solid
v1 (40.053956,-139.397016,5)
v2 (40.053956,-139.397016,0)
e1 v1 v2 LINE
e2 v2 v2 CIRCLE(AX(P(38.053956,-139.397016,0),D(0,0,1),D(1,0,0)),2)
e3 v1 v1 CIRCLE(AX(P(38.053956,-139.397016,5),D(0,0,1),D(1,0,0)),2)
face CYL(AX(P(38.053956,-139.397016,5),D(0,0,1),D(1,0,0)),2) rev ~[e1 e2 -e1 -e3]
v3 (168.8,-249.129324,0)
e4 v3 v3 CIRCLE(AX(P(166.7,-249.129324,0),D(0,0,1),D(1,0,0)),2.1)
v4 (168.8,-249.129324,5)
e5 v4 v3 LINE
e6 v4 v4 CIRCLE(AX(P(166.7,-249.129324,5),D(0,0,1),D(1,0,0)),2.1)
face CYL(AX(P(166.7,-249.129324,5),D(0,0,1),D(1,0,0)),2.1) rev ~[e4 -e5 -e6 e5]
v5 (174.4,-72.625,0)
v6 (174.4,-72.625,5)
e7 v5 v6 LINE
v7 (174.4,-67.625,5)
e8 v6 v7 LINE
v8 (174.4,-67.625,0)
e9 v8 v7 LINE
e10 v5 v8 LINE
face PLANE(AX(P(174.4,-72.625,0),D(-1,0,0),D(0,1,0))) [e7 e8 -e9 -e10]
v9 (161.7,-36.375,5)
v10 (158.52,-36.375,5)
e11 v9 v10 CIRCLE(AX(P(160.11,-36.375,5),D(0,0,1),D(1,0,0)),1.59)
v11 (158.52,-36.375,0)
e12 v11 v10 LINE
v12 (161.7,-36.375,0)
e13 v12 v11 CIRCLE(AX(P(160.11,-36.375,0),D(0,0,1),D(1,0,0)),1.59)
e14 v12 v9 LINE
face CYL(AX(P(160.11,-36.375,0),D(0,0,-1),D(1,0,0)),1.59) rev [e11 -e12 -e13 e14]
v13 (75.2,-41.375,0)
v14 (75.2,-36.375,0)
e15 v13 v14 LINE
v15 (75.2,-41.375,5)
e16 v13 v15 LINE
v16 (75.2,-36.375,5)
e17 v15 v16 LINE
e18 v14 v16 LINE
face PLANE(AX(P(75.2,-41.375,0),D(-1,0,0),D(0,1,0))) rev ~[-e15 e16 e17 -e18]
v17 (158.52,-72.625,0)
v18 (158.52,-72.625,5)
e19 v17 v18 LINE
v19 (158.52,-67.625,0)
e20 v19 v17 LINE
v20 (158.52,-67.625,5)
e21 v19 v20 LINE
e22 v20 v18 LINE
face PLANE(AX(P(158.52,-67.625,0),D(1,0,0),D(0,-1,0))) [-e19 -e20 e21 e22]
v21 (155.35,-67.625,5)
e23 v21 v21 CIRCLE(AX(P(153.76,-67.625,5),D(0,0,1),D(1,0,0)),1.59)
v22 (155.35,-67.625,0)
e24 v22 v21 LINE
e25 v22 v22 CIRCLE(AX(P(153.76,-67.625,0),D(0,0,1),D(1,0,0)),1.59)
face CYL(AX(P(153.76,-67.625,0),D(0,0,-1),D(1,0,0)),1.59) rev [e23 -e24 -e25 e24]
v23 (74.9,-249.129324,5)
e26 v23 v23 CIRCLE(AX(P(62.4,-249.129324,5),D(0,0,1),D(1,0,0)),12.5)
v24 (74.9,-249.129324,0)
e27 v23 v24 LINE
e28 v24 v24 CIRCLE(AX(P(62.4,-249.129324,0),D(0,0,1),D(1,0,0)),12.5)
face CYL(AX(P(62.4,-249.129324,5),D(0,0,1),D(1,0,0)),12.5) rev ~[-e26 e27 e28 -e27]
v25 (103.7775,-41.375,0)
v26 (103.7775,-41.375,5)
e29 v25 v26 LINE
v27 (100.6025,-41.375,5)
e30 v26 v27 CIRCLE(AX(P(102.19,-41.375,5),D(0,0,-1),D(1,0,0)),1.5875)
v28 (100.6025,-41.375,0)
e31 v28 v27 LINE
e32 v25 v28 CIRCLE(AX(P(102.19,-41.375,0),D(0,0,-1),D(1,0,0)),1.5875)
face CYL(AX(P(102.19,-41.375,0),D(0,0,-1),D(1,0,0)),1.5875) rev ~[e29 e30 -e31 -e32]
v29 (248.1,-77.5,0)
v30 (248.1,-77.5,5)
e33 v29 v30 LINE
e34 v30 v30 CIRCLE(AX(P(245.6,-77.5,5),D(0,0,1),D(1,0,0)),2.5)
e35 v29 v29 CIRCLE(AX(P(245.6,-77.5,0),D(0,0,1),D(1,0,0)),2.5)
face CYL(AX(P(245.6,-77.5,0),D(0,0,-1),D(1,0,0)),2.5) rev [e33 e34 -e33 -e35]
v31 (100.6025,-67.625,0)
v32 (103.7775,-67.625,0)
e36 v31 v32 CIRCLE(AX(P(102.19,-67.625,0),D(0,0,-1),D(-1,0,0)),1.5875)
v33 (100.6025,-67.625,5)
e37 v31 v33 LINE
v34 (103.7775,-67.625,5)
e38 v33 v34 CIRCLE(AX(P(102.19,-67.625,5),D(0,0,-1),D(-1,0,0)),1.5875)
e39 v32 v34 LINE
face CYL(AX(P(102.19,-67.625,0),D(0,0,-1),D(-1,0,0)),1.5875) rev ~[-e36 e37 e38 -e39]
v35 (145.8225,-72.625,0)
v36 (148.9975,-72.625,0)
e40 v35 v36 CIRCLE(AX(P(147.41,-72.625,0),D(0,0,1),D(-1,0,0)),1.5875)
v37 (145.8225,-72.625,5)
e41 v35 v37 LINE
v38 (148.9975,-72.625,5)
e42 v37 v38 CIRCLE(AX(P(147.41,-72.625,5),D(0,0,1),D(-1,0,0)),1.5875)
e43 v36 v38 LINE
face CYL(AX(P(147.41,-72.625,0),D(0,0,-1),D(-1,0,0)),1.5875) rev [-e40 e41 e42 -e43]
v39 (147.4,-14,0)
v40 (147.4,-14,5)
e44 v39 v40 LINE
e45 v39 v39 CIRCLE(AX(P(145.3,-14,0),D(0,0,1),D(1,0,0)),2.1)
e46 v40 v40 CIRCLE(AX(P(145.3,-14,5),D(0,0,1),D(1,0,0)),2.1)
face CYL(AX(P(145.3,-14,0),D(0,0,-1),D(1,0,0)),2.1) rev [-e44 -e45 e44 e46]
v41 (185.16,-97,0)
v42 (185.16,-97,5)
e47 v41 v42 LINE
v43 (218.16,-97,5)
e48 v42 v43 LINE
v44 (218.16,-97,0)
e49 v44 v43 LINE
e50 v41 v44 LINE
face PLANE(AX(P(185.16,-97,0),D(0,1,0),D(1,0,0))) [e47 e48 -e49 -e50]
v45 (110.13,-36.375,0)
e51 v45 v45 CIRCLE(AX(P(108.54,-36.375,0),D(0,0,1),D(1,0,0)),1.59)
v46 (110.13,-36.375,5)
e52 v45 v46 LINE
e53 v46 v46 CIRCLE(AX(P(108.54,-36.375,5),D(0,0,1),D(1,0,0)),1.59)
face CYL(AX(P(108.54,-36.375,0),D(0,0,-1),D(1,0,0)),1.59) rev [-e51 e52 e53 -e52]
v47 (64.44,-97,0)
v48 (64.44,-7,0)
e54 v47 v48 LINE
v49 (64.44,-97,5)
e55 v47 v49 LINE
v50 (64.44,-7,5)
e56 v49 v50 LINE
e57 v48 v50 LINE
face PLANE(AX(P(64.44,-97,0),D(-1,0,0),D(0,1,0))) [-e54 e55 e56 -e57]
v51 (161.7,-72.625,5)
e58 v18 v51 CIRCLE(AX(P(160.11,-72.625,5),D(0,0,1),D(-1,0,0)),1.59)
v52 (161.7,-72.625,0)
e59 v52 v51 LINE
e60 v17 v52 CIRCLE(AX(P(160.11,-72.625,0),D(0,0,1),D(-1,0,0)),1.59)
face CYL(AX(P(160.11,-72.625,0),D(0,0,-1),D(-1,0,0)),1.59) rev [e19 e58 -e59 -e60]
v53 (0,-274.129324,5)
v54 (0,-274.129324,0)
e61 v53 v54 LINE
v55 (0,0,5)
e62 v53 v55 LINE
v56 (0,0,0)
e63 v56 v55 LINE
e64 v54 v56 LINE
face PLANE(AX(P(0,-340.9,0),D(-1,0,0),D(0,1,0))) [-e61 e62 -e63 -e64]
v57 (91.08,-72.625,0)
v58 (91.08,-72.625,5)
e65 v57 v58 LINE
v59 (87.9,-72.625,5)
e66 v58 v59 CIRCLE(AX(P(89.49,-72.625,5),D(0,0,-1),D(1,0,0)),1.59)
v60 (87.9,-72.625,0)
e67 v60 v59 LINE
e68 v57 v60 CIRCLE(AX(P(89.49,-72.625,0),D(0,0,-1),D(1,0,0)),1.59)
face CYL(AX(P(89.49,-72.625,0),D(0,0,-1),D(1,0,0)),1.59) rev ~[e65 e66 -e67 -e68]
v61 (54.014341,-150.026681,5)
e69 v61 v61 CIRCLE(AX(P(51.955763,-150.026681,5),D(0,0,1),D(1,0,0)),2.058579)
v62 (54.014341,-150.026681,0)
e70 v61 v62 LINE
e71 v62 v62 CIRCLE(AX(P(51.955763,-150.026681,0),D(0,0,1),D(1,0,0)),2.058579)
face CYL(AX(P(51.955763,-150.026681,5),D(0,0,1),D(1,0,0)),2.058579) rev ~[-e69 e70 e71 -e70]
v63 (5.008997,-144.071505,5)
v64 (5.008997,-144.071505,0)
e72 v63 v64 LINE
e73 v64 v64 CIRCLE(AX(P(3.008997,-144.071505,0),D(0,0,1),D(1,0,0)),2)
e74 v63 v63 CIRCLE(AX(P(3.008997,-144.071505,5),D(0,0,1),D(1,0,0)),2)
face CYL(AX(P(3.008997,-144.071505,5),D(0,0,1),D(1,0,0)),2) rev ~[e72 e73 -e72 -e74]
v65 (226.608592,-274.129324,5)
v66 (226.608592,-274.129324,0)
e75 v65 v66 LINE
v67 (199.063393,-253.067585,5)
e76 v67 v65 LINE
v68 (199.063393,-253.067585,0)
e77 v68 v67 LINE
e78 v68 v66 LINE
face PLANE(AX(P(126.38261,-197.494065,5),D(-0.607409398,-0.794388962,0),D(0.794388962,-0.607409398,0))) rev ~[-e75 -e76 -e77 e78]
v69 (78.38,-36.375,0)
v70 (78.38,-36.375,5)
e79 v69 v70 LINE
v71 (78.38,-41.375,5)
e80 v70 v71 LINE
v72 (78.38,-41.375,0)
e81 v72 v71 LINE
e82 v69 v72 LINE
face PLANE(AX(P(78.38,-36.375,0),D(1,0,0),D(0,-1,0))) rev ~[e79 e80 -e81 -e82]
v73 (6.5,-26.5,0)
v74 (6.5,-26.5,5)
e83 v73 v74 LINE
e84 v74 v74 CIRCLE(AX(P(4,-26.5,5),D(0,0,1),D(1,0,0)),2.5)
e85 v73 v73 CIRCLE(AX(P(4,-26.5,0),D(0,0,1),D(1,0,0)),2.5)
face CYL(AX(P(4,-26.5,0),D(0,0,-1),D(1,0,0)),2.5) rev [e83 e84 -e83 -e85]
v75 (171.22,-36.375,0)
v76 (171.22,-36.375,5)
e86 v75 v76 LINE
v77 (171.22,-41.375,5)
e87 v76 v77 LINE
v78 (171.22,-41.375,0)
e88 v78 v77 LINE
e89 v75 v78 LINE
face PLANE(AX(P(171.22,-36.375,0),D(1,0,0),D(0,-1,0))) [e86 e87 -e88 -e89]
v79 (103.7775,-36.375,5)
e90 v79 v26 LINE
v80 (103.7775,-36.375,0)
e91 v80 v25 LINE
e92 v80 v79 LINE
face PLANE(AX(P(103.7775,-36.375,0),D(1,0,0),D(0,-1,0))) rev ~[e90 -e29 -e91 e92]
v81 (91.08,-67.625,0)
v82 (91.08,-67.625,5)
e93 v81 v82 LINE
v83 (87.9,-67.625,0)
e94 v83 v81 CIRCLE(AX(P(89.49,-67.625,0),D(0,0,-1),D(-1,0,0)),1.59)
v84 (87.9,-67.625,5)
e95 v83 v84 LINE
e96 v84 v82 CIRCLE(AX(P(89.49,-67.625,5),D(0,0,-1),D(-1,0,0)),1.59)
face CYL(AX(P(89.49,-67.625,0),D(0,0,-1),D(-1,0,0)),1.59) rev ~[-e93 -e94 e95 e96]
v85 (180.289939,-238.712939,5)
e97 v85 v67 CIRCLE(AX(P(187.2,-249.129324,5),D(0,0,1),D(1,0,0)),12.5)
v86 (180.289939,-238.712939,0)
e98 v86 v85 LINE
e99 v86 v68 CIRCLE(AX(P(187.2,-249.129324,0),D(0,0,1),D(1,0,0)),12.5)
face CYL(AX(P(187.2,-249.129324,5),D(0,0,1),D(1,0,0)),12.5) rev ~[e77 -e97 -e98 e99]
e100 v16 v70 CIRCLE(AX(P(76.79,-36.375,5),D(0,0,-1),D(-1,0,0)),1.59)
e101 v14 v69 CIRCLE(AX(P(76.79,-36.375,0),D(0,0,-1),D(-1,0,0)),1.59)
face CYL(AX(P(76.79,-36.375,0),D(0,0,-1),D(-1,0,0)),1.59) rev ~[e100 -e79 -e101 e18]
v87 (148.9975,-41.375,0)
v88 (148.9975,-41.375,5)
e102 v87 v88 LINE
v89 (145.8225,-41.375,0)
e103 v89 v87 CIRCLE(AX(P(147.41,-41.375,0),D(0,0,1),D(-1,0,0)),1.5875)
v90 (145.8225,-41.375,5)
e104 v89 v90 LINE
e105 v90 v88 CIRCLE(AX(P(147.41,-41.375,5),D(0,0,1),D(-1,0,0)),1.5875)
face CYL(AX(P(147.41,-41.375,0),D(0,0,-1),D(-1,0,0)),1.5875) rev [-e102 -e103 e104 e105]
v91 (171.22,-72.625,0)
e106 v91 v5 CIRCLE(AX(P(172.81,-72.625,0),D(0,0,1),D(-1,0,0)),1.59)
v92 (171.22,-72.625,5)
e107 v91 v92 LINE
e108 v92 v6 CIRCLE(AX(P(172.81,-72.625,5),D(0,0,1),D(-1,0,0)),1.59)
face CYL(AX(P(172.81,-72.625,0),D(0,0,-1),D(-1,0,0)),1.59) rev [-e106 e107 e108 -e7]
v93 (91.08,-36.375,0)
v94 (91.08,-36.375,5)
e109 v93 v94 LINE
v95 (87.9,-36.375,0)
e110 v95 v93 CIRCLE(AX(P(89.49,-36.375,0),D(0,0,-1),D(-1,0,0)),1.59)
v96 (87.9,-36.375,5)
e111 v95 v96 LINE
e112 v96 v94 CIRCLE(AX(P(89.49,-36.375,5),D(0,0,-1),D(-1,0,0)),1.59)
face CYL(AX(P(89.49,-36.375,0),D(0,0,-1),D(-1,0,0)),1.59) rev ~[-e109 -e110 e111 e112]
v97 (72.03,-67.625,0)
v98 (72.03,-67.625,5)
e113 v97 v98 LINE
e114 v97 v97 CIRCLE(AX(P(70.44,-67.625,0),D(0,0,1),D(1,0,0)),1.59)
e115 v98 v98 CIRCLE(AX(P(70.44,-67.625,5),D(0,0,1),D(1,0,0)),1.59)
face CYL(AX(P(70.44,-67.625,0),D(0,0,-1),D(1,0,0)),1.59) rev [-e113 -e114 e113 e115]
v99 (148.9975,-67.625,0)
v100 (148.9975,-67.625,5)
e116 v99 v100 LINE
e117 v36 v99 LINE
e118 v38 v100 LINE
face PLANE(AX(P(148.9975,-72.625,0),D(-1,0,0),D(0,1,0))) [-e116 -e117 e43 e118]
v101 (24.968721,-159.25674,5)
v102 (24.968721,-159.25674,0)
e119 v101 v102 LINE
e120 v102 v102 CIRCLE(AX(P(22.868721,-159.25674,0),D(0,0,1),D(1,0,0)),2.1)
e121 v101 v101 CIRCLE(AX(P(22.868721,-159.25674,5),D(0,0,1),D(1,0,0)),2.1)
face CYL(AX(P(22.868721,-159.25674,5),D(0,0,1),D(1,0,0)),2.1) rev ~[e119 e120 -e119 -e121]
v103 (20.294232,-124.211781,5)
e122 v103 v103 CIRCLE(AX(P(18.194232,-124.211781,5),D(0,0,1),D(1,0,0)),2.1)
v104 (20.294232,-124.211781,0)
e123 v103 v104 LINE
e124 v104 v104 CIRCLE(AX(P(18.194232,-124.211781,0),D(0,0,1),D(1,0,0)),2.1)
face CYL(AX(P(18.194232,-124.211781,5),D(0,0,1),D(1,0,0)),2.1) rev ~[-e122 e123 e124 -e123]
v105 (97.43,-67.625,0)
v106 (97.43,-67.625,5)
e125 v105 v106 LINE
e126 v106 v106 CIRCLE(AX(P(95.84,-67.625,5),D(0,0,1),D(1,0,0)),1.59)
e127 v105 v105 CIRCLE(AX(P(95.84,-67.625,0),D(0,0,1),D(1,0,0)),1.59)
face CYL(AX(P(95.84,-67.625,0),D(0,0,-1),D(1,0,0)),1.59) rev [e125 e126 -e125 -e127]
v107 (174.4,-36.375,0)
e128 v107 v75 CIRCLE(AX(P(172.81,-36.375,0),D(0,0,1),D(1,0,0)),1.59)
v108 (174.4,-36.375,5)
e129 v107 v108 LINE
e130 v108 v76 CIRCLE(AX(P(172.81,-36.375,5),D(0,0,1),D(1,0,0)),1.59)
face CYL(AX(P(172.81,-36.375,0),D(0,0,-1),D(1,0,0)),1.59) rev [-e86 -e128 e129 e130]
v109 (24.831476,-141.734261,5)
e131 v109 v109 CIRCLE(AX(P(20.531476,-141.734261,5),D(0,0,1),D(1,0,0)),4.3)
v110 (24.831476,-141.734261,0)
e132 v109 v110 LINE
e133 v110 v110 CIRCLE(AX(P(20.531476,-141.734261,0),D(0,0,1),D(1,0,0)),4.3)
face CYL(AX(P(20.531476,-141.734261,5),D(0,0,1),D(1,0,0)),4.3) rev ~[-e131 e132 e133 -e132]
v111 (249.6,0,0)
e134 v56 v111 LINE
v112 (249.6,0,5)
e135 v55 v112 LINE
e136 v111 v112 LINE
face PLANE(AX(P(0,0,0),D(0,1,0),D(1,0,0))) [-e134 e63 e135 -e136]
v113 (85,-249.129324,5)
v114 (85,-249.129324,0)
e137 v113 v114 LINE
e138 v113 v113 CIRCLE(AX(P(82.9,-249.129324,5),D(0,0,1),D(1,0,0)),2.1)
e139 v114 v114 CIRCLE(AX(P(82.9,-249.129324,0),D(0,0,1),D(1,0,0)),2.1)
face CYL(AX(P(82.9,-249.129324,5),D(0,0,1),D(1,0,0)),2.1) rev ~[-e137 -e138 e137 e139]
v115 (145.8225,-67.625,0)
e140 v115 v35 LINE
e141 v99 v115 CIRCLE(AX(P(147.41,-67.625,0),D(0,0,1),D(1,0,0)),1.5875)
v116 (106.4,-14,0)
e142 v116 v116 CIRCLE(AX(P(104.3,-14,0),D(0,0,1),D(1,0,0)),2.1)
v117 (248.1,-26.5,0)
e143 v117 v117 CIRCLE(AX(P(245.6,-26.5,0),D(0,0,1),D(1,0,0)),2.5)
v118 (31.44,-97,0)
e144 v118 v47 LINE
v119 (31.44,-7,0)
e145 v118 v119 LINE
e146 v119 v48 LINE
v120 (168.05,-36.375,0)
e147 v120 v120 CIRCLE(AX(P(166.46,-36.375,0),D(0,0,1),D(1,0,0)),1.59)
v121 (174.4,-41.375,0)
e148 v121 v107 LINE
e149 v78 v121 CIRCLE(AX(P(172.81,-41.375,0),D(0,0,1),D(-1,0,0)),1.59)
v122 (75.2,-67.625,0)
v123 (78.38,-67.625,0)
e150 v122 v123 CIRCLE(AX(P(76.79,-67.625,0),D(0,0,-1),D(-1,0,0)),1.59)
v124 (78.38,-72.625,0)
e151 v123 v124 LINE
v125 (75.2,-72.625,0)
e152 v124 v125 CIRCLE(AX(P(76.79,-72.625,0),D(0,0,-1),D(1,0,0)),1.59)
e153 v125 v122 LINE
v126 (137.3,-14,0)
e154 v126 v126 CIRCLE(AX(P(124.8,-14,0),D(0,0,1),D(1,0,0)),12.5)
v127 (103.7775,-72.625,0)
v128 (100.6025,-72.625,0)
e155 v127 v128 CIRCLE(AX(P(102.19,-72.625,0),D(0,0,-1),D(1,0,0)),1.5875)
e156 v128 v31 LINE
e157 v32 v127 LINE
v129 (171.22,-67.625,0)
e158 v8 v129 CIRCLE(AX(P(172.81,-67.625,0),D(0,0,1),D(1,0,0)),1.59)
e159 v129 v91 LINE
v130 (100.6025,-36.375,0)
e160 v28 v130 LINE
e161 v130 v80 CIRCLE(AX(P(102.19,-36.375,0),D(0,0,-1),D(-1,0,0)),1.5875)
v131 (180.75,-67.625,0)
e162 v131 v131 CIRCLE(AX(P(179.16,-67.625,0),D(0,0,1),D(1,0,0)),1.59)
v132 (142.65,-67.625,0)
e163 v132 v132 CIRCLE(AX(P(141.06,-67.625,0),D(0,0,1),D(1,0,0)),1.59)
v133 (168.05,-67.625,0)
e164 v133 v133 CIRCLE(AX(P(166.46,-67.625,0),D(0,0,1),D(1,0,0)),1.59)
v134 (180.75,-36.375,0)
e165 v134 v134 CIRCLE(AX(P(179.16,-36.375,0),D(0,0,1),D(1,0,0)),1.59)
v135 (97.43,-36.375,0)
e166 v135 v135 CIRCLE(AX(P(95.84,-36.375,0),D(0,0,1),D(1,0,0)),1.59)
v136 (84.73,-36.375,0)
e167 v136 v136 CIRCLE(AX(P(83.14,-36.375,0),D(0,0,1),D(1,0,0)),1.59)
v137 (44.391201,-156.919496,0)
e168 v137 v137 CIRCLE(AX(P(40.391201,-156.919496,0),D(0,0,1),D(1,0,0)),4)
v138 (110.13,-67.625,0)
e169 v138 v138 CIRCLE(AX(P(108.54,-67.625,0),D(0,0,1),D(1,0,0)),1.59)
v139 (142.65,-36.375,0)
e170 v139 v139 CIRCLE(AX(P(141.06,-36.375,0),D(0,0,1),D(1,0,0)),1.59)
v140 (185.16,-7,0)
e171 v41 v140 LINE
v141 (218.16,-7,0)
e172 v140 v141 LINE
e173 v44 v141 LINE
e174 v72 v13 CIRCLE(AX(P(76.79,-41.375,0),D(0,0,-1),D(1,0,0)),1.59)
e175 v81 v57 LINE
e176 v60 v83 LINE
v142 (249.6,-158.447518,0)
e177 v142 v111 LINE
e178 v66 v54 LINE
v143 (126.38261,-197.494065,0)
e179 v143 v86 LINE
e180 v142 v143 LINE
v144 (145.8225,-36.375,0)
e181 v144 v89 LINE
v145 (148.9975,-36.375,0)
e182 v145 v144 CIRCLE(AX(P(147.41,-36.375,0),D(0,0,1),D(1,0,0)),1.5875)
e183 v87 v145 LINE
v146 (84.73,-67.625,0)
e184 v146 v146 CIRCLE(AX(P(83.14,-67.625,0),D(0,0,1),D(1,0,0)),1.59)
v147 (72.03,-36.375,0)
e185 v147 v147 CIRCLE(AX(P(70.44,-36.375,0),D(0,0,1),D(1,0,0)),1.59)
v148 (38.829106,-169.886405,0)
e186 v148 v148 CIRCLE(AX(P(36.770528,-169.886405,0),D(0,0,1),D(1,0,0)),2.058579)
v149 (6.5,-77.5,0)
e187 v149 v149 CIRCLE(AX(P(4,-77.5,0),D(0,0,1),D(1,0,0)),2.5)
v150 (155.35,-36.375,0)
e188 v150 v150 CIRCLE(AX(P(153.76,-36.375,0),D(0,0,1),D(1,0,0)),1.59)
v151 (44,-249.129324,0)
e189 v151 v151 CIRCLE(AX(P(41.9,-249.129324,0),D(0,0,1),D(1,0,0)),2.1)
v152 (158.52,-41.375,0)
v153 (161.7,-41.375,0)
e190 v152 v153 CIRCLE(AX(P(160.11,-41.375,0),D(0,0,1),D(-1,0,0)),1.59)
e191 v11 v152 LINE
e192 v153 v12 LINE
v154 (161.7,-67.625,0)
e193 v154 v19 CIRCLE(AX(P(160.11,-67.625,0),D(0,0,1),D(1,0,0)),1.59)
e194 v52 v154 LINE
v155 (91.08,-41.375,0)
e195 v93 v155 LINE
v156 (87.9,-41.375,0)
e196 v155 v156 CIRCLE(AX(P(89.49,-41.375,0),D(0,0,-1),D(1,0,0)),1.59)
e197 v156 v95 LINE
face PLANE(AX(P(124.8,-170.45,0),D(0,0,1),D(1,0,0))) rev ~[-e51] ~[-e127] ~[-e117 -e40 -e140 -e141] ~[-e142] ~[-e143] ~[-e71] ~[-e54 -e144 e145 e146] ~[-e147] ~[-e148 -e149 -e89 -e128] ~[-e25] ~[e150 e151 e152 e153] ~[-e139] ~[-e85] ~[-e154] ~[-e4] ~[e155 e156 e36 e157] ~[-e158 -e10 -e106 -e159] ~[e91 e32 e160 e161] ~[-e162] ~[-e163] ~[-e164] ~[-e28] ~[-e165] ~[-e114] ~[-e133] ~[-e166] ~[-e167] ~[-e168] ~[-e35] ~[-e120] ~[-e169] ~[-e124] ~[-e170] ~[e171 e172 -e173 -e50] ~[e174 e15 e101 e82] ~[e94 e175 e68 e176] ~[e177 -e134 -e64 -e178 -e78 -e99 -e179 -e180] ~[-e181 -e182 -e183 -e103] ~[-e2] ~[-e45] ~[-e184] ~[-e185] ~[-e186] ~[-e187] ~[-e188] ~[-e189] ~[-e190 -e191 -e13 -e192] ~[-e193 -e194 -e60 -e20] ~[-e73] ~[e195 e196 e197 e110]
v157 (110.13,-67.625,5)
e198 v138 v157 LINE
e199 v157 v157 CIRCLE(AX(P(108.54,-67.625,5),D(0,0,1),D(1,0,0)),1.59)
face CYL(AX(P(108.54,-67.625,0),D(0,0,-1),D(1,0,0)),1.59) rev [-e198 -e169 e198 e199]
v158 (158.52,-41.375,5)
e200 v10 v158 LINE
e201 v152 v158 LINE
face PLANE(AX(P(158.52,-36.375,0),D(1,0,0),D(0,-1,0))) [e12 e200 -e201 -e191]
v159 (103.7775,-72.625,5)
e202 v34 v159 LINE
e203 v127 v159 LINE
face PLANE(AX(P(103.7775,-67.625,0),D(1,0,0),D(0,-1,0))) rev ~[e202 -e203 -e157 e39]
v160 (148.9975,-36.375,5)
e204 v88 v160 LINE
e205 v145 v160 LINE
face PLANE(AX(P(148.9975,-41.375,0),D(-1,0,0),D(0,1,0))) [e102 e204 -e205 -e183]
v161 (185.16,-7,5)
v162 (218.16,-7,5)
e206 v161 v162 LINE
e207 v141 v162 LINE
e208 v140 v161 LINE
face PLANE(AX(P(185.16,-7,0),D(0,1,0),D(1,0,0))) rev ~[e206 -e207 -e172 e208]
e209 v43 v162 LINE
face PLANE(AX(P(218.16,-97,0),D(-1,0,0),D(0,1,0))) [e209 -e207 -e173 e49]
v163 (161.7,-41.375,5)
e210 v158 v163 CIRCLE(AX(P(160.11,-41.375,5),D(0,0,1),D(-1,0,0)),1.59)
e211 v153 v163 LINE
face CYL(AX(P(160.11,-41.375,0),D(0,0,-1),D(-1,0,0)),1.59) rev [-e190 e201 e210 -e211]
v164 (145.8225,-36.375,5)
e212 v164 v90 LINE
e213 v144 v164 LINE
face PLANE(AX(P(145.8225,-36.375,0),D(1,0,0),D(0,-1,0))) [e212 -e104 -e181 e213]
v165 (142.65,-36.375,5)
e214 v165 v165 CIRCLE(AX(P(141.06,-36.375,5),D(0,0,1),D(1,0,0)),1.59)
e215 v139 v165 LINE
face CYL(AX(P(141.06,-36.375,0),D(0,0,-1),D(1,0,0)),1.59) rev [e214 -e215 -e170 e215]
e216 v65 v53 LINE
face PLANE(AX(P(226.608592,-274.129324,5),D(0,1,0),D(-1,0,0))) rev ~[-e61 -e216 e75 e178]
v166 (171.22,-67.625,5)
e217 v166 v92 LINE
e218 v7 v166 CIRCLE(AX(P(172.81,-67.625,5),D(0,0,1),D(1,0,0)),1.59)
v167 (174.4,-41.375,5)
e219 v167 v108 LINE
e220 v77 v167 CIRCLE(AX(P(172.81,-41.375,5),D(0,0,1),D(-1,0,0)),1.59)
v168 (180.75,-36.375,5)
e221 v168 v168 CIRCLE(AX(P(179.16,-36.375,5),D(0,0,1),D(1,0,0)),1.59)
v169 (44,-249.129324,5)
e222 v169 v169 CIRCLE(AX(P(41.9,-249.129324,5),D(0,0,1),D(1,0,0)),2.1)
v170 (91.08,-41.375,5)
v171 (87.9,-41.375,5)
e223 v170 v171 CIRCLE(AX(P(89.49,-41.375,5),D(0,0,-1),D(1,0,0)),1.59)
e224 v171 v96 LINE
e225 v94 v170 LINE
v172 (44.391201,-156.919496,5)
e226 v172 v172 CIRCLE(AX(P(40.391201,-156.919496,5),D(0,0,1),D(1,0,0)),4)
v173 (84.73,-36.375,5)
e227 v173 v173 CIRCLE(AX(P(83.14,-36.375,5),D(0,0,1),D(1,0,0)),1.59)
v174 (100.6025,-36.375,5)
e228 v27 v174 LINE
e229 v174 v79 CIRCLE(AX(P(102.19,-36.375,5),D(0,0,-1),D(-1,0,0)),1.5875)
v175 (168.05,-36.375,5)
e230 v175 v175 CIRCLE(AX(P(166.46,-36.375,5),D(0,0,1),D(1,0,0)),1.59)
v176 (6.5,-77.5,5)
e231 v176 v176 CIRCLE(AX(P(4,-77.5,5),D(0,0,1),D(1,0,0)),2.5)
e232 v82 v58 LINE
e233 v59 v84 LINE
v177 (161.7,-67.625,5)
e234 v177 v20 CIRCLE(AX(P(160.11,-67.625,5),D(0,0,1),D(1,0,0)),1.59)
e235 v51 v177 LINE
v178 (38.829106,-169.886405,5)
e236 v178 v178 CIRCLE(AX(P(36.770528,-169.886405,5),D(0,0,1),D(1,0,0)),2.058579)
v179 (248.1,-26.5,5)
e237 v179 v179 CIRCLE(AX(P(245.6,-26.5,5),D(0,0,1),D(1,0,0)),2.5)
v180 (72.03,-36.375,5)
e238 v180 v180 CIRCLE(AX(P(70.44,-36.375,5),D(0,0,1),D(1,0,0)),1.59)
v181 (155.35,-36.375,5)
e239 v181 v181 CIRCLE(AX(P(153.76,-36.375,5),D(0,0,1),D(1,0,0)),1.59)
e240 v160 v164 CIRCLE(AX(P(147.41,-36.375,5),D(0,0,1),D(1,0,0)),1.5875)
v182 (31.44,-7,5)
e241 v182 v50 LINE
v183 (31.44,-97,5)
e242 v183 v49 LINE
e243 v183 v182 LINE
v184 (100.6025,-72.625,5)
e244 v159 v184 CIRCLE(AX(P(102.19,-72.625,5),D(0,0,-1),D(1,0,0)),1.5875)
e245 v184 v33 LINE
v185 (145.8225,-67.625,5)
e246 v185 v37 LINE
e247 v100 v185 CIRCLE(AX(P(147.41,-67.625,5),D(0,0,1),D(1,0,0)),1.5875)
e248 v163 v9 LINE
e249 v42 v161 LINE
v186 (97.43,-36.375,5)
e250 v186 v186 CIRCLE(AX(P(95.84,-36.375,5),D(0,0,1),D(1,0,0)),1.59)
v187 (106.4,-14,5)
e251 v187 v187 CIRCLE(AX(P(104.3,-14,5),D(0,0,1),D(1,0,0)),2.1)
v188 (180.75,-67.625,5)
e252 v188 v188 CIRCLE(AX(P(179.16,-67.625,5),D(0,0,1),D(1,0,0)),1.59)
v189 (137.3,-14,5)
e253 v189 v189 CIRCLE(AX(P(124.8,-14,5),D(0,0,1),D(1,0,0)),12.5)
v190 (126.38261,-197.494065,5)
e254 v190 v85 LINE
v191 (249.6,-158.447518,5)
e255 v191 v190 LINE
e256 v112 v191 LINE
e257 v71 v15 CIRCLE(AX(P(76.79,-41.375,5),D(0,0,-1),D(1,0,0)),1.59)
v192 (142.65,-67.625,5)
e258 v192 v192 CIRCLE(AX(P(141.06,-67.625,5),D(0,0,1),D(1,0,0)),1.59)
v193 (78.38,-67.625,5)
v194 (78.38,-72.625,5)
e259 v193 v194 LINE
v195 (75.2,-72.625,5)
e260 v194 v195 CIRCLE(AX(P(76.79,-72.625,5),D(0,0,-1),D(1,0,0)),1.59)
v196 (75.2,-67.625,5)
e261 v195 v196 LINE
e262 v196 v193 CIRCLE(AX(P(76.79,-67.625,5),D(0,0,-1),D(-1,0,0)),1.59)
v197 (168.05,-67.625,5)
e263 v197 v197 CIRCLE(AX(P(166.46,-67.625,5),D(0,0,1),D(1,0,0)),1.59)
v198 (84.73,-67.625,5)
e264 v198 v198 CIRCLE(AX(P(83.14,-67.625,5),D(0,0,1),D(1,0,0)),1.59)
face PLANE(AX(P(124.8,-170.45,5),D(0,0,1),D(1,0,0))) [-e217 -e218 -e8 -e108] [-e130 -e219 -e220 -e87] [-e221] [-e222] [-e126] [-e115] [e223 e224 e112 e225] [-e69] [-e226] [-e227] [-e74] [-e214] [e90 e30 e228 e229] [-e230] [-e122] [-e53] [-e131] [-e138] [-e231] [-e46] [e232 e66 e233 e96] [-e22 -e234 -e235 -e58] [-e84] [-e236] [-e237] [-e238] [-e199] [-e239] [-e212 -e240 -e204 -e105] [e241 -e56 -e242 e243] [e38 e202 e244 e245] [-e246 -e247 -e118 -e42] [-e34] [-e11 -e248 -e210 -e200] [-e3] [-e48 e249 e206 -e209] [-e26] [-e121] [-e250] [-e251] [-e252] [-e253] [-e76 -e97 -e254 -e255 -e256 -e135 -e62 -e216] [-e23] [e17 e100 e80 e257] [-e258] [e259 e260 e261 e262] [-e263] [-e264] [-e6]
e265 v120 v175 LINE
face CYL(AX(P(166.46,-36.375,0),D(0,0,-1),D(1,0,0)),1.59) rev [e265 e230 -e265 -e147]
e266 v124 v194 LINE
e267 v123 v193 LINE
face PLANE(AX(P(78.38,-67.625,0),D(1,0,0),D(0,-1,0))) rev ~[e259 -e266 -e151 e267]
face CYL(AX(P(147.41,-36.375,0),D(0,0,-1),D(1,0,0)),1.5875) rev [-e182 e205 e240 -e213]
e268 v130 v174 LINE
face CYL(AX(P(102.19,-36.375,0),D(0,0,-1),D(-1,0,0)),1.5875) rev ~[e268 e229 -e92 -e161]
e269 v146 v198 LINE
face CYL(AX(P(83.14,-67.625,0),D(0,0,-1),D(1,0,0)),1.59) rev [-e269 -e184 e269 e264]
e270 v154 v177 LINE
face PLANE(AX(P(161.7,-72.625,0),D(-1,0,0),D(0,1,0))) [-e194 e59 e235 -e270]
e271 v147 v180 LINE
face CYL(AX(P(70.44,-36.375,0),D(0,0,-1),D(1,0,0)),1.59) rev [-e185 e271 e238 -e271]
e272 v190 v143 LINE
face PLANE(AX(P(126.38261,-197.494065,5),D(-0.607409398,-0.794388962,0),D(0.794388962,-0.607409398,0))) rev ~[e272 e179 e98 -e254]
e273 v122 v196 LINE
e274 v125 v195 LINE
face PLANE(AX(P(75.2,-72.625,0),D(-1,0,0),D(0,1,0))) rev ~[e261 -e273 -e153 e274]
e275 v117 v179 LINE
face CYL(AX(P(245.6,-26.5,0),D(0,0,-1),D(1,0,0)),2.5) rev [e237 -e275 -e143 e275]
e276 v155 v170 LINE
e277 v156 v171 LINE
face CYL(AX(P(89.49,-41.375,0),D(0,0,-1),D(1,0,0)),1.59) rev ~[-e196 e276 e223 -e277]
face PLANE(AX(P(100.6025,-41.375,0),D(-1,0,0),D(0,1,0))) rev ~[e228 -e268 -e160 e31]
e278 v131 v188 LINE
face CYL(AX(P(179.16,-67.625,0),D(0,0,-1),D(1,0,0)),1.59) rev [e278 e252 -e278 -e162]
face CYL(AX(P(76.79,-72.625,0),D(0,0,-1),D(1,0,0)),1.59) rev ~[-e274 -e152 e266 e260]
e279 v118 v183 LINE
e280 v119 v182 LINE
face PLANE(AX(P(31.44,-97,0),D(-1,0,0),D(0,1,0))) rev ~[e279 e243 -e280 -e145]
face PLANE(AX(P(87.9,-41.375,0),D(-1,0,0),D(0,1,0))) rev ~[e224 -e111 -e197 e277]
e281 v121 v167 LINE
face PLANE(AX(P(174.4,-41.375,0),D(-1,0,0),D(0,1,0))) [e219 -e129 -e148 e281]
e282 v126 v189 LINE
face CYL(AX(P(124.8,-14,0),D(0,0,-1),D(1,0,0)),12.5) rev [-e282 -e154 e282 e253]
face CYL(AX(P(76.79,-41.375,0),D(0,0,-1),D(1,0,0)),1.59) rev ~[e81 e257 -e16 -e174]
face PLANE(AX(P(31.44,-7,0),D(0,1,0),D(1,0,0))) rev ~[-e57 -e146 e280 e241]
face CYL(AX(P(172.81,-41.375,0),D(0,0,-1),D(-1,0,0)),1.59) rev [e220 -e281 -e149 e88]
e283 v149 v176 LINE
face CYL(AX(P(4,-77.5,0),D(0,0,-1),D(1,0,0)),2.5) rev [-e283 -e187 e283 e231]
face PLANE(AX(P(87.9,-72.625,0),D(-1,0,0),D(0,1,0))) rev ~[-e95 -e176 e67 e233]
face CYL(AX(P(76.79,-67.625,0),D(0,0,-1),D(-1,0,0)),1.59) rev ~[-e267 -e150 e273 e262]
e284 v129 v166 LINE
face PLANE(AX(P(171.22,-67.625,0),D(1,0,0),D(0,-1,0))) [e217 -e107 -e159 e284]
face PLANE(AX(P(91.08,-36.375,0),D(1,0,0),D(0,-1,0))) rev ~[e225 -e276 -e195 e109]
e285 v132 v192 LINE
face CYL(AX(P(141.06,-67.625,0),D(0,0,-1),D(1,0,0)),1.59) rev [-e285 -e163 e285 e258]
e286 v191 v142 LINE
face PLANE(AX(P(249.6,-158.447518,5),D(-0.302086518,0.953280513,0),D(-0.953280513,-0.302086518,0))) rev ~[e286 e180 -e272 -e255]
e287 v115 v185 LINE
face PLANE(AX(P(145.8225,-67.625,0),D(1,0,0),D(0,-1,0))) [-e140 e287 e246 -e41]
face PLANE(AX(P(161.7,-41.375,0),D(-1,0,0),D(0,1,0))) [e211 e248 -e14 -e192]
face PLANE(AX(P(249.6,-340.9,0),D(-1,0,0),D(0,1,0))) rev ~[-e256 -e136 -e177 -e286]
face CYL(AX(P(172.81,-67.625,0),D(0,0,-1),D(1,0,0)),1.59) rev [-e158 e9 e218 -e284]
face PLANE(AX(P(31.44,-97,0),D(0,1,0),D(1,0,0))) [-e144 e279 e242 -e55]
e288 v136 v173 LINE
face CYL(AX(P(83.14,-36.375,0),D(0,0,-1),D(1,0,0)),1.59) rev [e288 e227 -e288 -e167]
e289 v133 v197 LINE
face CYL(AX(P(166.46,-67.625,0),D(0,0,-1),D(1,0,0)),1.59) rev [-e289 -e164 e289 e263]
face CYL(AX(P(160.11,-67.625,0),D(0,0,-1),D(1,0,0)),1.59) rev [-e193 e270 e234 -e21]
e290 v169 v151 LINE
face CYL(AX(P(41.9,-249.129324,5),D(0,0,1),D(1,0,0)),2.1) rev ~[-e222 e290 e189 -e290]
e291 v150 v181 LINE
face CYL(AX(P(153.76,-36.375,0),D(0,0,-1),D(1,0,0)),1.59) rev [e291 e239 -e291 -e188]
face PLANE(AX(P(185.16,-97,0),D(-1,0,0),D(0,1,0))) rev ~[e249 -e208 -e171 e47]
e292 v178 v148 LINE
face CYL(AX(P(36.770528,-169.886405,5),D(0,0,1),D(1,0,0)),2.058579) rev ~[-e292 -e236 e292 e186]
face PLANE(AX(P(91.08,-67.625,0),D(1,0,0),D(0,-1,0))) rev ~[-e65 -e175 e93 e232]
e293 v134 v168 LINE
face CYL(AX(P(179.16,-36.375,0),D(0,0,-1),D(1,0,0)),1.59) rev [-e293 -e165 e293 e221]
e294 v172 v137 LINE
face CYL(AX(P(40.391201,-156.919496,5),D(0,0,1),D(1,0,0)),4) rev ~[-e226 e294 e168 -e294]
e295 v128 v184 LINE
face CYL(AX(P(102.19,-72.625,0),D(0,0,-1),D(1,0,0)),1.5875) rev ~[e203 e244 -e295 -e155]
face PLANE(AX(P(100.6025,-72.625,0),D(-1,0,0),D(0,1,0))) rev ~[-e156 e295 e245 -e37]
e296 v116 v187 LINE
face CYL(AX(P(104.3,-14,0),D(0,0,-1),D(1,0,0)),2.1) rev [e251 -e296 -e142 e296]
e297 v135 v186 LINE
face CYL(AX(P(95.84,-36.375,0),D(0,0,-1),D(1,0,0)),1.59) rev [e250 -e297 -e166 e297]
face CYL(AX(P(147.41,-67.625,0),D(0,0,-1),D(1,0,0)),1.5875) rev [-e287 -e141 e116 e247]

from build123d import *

# Parameters (mm, degrees)
SKETCH1_W               = 249.6
SKETCH1_H               = 340.9
SKETCH1_R               = 2.1
SKETCH1_R_2             = 2.5
SKETCH1_R_3             = 1.59
SKETCH1_R_4             = 12.5
SKETCH1_W_2             = 33
SKETCH1_H_2             = 90
BOSS_EXTRUDE1_DEPTH     = 5
CUT_EXTRUDE3_DEPTH      = 193
CUT_EXTRUDE3_DEPTH_BACK = 193
CUT_EXTRUDE6_DEPTH      = 6
SKETCH8_R               = 2
SKETCH8_R_2             = 2.1
SKETCH8_R_3             = 2.058578644
SKETCH8_R_4             = 4
SKETCH8_R_5             = 4.3
CUT_EXTRUDE7_DEPTH      = 6
SKETCH9_R               = 12.5
SKETCH9_R_2             = 2.1
CUT_EXTRUDE8_DEPTH      = 6


with BuildPart() as part:
    # Sketch1 → Boss-Extrude1 (new body)
    with BuildSketch(Plane.XY):
        with Locations((124.8, -170.45)):
            Rectangle(SKETCH1_W, SKETCH1_H)
        with Locations((104.3, -14)):
            Circle(SKETCH1_R, mode=Mode.SUBTRACT)
        with Locations((245.6, -26.5)):
            Circle(SKETCH1_R_2, mode=Mode.SUBTRACT)
        with Locations((245.6, -77.5)):
            Circle(SKETCH1_R_2, mode=Mode.SUBTRACT)
        with Locations((145.3, -14)):
            Circle(SKETCH1_R, mode=Mode.SUBTRACT)
        with Locations((179.16, -36.375)):
            Circle(SKETCH1_R_3, mode=Mode.SUBTRACT)
        with Locations((179.16, -67.625)):
            Circle(SKETCH1_R_3, mode=Mode.SUBTRACT)
        with Locations((124.8, -14)):
            Circle(SKETCH1_R_4, mode=Mode.SUBTRACT)
        with Locations((141.06, -36.375)):
            Circle(SKETCH1_R_3, mode=Mode.SUBTRACT)
        with Locations((153.76, -36.375)):
            Circle(SKETCH1_R_3, mode=Mode.SUBTRACT)
        with Locations((166.46, -36.375)):
            Circle(SKETCH1_R_3, mode=Mode.SUBTRACT)
        with Locations((141.06, -67.625)):
            Circle(SKETCH1_R_3, mode=Mode.SUBTRACT)
        with Locations((153.76, -67.625)):
            Circle(SKETCH1_R_3, mode=Mode.SUBTRACT)
        with Locations((166.46, -67.625)):
            Circle(SKETCH1_R_3, mode=Mode.SUBTRACT)
        with Locations((83.14, -67.625)):
            Circle(SKETCH1_R_3, mode=Mode.SUBTRACT)
        with Locations((95.84, -67.625)):
            Circle(SKETCH1_R_3, mode=Mode.SUBTRACT)
        with Locations((108.54, -67.625)):
            Circle(SKETCH1_R_3, mode=Mode.SUBTRACT)
        with Locations((83.14, -36.375)):
            Circle(SKETCH1_R_3, mode=Mode.SUBTRACT)
        with Locations((95.84, -36.375)):
            Circle(SKETCH1_R_3, mode=Mode.SUBTRACT)
        with Locations((108.54, -36.375)):
            Circle(SKETCH1_R_3, mode=Mode.SUBTRACT)
        with Locations((70.44, -67.625)):
            Circle(SKETCH1_R_3, mode=Mode.SUBTRACT)
        with Locations((70.44, -36.375)):
            Circle(SKETCH1_R_3, mode=Mode.SUBTRACT)
        with Locations((4, -77.5)):
            Circle(SKETCH1_R_2, mode=Mode.SUBTRACT)
        with Locations((4, -26.5)):
            Circle(SKETCH1_R_2, mode=Mode.SUBTRACT)
        with Locations((201.66, -52)):
            Rectangle(SKETCH1_W_2, SKETCH1_H_2, mode=Mode.SUBTRACT)
        with BuildLine():
            Line((145.8225, -36.375), (145.8225, -41.375))
            ThreePointArc((145.8225, -41.375), (147.41, -42.9625), (148.9975, -41.375))
            Line((148.9975, -41.375), (148.9975, -36.375))
            ThreePointArc((148.9975, -36.375), (147.41, -34.7875), (145.8225, -36.375))
        make_face(mode=Mode.SUBTRACT)
        with BuildLine():
            Line((158.52, -36.375), (158.52, -41.375))
            ThreePointArc((158.52, -41.375), (160.11, -42.965), (161.7, -41.375))
            Line((161.7, -41.375), (161.7, -36.375))
            ThreePointArc((161.7, -36.375), (160.11, -34.785), (158.52, -36.375))
        make_face(mode=Mode.SUBTRACT)
        with BuildLine():
            Line((171.22, -36.375), (171.22, -41.375))
            ThreePointArc((171.22, -41.375), (172.81, -42.965), (174.4, -41.375))
            Line((174.4, -41.375), (174.4, -36.375))
            ThreePointArc((174.4, -36.375), (172.81, -34.785), (171.22, -36.375))
        make_face(mode=Mode.SUBTRACT)
        with BuildLine():
            Line((145.8225, -67.625), (145.8225, -72.625))
            ThreePointArc((145.8225, -72.625), (147.41, -74.2125), (148.9975, -72.625))
            Line((148.9975, -72.625), (148.9975, -67.625))
            ThreePointArc((148.9975, -67.625), (147.41, -66.0375), (145.8225, -67.625))
        make_face(mode=Mode.SUBTRACT)
        with BuildLine():
            Line((158.52, -67.625), (158.52, -72.625))
            ThreePointArc((158.52, -72.625), (160.11, -74.215), (161.7, -72.625))
            Line((161.7, -72.625), (161.7, -67.625))
            ThreePointArc((161.7, -67.625), (160.11, -66.035), (158.52, -67.625))
        make_face(mode=Mode.SUBTRACT)
        with BuildLine():
            Line((171.22, -67.625), (171.22, -72.625))
            ThreePointArc((171.22, -72.625), (172.81, -74.215), (174.4, -72.625))
            Line((174.4, -72.625), (174.4, -67.625))
            ThreePointArc((174.4, -67.625), (172.81, -66.035), (171.22, -67.625))
        make_face(mode=Mode.SUBTRACT)
        with BuildLine():
            Line((103.7775, -36.375), (103.7775, -41.375))
            ThreePointArc((103.7775, -41.375), (102.19, -42.9625), (100.6025, -41.375))
            Line((100.6025, -41.375), (100.6025, -36.375))
            ThreePointArc((100.6025, -36.375), (102.19, -34.7875), (103.7775, -36.375))
        make_face(mode=Mode.SUBTRACT)
        with BuildLine():
            Line((91.08, -36.375), (91.08, -41.375))
            ThreePointArc((91.08, -41.375), (89.49, -42.965), (87.9, -41.375))
            Line((87.9, -41.375), (87.9, -36.375))
            ThreePointArc((87.9, -36.375), (89.49, -34.785), (91.08, -36.375))
        make_face(mode=Mode.SUBTRACT)
        with BuildLine():
            Line((78.38, -36.375), (78.38, -41.375))
            ThreePointArc((78.38, -41.375), (76.79, -42.965), (75.2, -41.375))
            Line((75.2, -41.375), (75.2, -36.375))
            ThreePointArc((75.2, -36.375), (76.79, -34.785), (78.38, -36.375))
        make_face(mode=Mode.SUBTRACT)
        with BuildLine():
            Line((103.7775, -67.625), (103.7775, -72.625))
            ThreePointArc((103.7775, -72.625), (102.19, -74.2125), (100.6025, -72.625))
            Line((100.6025, -72.625), (100.6025, -67.625))
            ThreePointArc((100.6025, -67.625), (102.19, -66.0375), (103.7775, -67.625))
        make_face(mode=Mode.SUBTRACT)
        with BuildLine():
            Line((91.08, -67.625), (91.08, -72.625))
            ThreePointArc((91.08, -72.625), (89.49, -74.215), (87.9, -72.625))
            Line((87.9, -72.625), (87.9, -67.625))
            ThreePointArc((87.9, -67.625), (89.49, -66.035), (91.08, -67.625))
        make_face(mode=Mode.SUBTRACT)
        with BuildLine():
            Line((78.38, -67.625), (78.38, -72.625))
            ThreePointArc((78.38, -72.625), (76.79, -74.215), (75.2, -72.625))
            Line((75.2, -72.625), (75.2, -67.625))
            ThreePointArc((75.2, -67.625), (76.79, -66.035), (78.38, -67.625))
        make_face(mode=Mode.SUBTRACT)
        with Locations((47.94, -52)):
            Rectangle(SKETCH1_W_2, SKETCH1_H_2, mode=Mode.SUBTRACT)
    extrude(amount=BOSS_EXTRUDE1_DEPTH)

    # Sketch4 → Cut-Extrude3 (cut, two sides)
    with BuildSketch(Plane.XY.offset(5)) as cut_extrude3_sk:
        with BuildLine():
            Line((249.6, -161.594545719), (249.6, -280.754609783))
            ThreePointArc((249.6, -280.754609783), (205.980407386, -221.174577751), (249.6, -161.594545719))
        make_face()
    extrude(amount=CUT_EXTRUDE3_DEPTH, mode=Mode.SUBTRACT)
    extrude(cut_extrude3_sk.sketch, amount=-CUT_EXTRUDE3_DEPTH_BACK, mode=Mode.SUBTRACT)

    # Sketch7 → Cut-Extrude6 (cut, through all)
    with BuildSketch(Plane.XY.offset(5)):
        Polygon((249.6, -158.447518206), (126.382609779, -197.494065264), (226.608591706, -274.129323659), (0, -274.129323659), (0, -340.9), (249.6, -340.9), align=None)
    extrude(amount=-CUT_EXTRUDE6_DEPTH, mode=Mode.SUBTRACT)

    # Sketch8 → Cut-Extrude7 (cut, through all)
    with BuildSketch(Plane.XY.offset(5)):
        with Locations((3.008996966, -144.071505353)):
            Circle(SKETCH8_R)
        with Locations((18.194231921, -124.211781303)):
            Circle(SKETCH8_R_2)
        with Locations((22.868721016, -159.256740308)):
            Circle(SKETCH8_R_2)
        with Locations((36.770527851, -169.886404777)):
            Circle(SKETCH8_R_3)
        with Locations((40.391200519, -156.919495761)):
            Circle(SKETCH8_R_4)
        with Locations((38.053955971, -139.397016258)):
            Circle(SKETCH8_R)
        with Locations((20.531476469, -141.734260806)):
            Circle(SKETCH8_R_5)
        with Locations((51.955762806, -150.026680727)):
            Circle(SKETCH8_R_3)
    extrude(amount=-CUT_EXTRUDE7_DEPTH, mode=Mode.SUBTRACT)

    # Sketch9 → Cut-Extrude8 (cut, through all)
    with BuildSketch(Plane.XY.offset(5)):
        with Locations((62.4, -249.129323659)):
            Circle(SKETCH9_R)
        with Locations((82.9, -249.129323659)):
            Circle(SKETCH9_R_2)
        with Locations((41.9, -249.129323659)):
            Circle(SKETCH9_R_2)
        with Locations((207.7, -249.129323659)):
            Circle(SKETCH9_R_2)
        with Locations((166.7, -249.129323659)):
            Circle(SKETCH9_R_2)
        with Locations((187.2, -249.129323659)):
            Circle(SKETCH9_R)
    extrude(amount=-CUT_EXTRUDE8_DEPTH, mode=Mode.SUBTRACT)


solid = part.part
